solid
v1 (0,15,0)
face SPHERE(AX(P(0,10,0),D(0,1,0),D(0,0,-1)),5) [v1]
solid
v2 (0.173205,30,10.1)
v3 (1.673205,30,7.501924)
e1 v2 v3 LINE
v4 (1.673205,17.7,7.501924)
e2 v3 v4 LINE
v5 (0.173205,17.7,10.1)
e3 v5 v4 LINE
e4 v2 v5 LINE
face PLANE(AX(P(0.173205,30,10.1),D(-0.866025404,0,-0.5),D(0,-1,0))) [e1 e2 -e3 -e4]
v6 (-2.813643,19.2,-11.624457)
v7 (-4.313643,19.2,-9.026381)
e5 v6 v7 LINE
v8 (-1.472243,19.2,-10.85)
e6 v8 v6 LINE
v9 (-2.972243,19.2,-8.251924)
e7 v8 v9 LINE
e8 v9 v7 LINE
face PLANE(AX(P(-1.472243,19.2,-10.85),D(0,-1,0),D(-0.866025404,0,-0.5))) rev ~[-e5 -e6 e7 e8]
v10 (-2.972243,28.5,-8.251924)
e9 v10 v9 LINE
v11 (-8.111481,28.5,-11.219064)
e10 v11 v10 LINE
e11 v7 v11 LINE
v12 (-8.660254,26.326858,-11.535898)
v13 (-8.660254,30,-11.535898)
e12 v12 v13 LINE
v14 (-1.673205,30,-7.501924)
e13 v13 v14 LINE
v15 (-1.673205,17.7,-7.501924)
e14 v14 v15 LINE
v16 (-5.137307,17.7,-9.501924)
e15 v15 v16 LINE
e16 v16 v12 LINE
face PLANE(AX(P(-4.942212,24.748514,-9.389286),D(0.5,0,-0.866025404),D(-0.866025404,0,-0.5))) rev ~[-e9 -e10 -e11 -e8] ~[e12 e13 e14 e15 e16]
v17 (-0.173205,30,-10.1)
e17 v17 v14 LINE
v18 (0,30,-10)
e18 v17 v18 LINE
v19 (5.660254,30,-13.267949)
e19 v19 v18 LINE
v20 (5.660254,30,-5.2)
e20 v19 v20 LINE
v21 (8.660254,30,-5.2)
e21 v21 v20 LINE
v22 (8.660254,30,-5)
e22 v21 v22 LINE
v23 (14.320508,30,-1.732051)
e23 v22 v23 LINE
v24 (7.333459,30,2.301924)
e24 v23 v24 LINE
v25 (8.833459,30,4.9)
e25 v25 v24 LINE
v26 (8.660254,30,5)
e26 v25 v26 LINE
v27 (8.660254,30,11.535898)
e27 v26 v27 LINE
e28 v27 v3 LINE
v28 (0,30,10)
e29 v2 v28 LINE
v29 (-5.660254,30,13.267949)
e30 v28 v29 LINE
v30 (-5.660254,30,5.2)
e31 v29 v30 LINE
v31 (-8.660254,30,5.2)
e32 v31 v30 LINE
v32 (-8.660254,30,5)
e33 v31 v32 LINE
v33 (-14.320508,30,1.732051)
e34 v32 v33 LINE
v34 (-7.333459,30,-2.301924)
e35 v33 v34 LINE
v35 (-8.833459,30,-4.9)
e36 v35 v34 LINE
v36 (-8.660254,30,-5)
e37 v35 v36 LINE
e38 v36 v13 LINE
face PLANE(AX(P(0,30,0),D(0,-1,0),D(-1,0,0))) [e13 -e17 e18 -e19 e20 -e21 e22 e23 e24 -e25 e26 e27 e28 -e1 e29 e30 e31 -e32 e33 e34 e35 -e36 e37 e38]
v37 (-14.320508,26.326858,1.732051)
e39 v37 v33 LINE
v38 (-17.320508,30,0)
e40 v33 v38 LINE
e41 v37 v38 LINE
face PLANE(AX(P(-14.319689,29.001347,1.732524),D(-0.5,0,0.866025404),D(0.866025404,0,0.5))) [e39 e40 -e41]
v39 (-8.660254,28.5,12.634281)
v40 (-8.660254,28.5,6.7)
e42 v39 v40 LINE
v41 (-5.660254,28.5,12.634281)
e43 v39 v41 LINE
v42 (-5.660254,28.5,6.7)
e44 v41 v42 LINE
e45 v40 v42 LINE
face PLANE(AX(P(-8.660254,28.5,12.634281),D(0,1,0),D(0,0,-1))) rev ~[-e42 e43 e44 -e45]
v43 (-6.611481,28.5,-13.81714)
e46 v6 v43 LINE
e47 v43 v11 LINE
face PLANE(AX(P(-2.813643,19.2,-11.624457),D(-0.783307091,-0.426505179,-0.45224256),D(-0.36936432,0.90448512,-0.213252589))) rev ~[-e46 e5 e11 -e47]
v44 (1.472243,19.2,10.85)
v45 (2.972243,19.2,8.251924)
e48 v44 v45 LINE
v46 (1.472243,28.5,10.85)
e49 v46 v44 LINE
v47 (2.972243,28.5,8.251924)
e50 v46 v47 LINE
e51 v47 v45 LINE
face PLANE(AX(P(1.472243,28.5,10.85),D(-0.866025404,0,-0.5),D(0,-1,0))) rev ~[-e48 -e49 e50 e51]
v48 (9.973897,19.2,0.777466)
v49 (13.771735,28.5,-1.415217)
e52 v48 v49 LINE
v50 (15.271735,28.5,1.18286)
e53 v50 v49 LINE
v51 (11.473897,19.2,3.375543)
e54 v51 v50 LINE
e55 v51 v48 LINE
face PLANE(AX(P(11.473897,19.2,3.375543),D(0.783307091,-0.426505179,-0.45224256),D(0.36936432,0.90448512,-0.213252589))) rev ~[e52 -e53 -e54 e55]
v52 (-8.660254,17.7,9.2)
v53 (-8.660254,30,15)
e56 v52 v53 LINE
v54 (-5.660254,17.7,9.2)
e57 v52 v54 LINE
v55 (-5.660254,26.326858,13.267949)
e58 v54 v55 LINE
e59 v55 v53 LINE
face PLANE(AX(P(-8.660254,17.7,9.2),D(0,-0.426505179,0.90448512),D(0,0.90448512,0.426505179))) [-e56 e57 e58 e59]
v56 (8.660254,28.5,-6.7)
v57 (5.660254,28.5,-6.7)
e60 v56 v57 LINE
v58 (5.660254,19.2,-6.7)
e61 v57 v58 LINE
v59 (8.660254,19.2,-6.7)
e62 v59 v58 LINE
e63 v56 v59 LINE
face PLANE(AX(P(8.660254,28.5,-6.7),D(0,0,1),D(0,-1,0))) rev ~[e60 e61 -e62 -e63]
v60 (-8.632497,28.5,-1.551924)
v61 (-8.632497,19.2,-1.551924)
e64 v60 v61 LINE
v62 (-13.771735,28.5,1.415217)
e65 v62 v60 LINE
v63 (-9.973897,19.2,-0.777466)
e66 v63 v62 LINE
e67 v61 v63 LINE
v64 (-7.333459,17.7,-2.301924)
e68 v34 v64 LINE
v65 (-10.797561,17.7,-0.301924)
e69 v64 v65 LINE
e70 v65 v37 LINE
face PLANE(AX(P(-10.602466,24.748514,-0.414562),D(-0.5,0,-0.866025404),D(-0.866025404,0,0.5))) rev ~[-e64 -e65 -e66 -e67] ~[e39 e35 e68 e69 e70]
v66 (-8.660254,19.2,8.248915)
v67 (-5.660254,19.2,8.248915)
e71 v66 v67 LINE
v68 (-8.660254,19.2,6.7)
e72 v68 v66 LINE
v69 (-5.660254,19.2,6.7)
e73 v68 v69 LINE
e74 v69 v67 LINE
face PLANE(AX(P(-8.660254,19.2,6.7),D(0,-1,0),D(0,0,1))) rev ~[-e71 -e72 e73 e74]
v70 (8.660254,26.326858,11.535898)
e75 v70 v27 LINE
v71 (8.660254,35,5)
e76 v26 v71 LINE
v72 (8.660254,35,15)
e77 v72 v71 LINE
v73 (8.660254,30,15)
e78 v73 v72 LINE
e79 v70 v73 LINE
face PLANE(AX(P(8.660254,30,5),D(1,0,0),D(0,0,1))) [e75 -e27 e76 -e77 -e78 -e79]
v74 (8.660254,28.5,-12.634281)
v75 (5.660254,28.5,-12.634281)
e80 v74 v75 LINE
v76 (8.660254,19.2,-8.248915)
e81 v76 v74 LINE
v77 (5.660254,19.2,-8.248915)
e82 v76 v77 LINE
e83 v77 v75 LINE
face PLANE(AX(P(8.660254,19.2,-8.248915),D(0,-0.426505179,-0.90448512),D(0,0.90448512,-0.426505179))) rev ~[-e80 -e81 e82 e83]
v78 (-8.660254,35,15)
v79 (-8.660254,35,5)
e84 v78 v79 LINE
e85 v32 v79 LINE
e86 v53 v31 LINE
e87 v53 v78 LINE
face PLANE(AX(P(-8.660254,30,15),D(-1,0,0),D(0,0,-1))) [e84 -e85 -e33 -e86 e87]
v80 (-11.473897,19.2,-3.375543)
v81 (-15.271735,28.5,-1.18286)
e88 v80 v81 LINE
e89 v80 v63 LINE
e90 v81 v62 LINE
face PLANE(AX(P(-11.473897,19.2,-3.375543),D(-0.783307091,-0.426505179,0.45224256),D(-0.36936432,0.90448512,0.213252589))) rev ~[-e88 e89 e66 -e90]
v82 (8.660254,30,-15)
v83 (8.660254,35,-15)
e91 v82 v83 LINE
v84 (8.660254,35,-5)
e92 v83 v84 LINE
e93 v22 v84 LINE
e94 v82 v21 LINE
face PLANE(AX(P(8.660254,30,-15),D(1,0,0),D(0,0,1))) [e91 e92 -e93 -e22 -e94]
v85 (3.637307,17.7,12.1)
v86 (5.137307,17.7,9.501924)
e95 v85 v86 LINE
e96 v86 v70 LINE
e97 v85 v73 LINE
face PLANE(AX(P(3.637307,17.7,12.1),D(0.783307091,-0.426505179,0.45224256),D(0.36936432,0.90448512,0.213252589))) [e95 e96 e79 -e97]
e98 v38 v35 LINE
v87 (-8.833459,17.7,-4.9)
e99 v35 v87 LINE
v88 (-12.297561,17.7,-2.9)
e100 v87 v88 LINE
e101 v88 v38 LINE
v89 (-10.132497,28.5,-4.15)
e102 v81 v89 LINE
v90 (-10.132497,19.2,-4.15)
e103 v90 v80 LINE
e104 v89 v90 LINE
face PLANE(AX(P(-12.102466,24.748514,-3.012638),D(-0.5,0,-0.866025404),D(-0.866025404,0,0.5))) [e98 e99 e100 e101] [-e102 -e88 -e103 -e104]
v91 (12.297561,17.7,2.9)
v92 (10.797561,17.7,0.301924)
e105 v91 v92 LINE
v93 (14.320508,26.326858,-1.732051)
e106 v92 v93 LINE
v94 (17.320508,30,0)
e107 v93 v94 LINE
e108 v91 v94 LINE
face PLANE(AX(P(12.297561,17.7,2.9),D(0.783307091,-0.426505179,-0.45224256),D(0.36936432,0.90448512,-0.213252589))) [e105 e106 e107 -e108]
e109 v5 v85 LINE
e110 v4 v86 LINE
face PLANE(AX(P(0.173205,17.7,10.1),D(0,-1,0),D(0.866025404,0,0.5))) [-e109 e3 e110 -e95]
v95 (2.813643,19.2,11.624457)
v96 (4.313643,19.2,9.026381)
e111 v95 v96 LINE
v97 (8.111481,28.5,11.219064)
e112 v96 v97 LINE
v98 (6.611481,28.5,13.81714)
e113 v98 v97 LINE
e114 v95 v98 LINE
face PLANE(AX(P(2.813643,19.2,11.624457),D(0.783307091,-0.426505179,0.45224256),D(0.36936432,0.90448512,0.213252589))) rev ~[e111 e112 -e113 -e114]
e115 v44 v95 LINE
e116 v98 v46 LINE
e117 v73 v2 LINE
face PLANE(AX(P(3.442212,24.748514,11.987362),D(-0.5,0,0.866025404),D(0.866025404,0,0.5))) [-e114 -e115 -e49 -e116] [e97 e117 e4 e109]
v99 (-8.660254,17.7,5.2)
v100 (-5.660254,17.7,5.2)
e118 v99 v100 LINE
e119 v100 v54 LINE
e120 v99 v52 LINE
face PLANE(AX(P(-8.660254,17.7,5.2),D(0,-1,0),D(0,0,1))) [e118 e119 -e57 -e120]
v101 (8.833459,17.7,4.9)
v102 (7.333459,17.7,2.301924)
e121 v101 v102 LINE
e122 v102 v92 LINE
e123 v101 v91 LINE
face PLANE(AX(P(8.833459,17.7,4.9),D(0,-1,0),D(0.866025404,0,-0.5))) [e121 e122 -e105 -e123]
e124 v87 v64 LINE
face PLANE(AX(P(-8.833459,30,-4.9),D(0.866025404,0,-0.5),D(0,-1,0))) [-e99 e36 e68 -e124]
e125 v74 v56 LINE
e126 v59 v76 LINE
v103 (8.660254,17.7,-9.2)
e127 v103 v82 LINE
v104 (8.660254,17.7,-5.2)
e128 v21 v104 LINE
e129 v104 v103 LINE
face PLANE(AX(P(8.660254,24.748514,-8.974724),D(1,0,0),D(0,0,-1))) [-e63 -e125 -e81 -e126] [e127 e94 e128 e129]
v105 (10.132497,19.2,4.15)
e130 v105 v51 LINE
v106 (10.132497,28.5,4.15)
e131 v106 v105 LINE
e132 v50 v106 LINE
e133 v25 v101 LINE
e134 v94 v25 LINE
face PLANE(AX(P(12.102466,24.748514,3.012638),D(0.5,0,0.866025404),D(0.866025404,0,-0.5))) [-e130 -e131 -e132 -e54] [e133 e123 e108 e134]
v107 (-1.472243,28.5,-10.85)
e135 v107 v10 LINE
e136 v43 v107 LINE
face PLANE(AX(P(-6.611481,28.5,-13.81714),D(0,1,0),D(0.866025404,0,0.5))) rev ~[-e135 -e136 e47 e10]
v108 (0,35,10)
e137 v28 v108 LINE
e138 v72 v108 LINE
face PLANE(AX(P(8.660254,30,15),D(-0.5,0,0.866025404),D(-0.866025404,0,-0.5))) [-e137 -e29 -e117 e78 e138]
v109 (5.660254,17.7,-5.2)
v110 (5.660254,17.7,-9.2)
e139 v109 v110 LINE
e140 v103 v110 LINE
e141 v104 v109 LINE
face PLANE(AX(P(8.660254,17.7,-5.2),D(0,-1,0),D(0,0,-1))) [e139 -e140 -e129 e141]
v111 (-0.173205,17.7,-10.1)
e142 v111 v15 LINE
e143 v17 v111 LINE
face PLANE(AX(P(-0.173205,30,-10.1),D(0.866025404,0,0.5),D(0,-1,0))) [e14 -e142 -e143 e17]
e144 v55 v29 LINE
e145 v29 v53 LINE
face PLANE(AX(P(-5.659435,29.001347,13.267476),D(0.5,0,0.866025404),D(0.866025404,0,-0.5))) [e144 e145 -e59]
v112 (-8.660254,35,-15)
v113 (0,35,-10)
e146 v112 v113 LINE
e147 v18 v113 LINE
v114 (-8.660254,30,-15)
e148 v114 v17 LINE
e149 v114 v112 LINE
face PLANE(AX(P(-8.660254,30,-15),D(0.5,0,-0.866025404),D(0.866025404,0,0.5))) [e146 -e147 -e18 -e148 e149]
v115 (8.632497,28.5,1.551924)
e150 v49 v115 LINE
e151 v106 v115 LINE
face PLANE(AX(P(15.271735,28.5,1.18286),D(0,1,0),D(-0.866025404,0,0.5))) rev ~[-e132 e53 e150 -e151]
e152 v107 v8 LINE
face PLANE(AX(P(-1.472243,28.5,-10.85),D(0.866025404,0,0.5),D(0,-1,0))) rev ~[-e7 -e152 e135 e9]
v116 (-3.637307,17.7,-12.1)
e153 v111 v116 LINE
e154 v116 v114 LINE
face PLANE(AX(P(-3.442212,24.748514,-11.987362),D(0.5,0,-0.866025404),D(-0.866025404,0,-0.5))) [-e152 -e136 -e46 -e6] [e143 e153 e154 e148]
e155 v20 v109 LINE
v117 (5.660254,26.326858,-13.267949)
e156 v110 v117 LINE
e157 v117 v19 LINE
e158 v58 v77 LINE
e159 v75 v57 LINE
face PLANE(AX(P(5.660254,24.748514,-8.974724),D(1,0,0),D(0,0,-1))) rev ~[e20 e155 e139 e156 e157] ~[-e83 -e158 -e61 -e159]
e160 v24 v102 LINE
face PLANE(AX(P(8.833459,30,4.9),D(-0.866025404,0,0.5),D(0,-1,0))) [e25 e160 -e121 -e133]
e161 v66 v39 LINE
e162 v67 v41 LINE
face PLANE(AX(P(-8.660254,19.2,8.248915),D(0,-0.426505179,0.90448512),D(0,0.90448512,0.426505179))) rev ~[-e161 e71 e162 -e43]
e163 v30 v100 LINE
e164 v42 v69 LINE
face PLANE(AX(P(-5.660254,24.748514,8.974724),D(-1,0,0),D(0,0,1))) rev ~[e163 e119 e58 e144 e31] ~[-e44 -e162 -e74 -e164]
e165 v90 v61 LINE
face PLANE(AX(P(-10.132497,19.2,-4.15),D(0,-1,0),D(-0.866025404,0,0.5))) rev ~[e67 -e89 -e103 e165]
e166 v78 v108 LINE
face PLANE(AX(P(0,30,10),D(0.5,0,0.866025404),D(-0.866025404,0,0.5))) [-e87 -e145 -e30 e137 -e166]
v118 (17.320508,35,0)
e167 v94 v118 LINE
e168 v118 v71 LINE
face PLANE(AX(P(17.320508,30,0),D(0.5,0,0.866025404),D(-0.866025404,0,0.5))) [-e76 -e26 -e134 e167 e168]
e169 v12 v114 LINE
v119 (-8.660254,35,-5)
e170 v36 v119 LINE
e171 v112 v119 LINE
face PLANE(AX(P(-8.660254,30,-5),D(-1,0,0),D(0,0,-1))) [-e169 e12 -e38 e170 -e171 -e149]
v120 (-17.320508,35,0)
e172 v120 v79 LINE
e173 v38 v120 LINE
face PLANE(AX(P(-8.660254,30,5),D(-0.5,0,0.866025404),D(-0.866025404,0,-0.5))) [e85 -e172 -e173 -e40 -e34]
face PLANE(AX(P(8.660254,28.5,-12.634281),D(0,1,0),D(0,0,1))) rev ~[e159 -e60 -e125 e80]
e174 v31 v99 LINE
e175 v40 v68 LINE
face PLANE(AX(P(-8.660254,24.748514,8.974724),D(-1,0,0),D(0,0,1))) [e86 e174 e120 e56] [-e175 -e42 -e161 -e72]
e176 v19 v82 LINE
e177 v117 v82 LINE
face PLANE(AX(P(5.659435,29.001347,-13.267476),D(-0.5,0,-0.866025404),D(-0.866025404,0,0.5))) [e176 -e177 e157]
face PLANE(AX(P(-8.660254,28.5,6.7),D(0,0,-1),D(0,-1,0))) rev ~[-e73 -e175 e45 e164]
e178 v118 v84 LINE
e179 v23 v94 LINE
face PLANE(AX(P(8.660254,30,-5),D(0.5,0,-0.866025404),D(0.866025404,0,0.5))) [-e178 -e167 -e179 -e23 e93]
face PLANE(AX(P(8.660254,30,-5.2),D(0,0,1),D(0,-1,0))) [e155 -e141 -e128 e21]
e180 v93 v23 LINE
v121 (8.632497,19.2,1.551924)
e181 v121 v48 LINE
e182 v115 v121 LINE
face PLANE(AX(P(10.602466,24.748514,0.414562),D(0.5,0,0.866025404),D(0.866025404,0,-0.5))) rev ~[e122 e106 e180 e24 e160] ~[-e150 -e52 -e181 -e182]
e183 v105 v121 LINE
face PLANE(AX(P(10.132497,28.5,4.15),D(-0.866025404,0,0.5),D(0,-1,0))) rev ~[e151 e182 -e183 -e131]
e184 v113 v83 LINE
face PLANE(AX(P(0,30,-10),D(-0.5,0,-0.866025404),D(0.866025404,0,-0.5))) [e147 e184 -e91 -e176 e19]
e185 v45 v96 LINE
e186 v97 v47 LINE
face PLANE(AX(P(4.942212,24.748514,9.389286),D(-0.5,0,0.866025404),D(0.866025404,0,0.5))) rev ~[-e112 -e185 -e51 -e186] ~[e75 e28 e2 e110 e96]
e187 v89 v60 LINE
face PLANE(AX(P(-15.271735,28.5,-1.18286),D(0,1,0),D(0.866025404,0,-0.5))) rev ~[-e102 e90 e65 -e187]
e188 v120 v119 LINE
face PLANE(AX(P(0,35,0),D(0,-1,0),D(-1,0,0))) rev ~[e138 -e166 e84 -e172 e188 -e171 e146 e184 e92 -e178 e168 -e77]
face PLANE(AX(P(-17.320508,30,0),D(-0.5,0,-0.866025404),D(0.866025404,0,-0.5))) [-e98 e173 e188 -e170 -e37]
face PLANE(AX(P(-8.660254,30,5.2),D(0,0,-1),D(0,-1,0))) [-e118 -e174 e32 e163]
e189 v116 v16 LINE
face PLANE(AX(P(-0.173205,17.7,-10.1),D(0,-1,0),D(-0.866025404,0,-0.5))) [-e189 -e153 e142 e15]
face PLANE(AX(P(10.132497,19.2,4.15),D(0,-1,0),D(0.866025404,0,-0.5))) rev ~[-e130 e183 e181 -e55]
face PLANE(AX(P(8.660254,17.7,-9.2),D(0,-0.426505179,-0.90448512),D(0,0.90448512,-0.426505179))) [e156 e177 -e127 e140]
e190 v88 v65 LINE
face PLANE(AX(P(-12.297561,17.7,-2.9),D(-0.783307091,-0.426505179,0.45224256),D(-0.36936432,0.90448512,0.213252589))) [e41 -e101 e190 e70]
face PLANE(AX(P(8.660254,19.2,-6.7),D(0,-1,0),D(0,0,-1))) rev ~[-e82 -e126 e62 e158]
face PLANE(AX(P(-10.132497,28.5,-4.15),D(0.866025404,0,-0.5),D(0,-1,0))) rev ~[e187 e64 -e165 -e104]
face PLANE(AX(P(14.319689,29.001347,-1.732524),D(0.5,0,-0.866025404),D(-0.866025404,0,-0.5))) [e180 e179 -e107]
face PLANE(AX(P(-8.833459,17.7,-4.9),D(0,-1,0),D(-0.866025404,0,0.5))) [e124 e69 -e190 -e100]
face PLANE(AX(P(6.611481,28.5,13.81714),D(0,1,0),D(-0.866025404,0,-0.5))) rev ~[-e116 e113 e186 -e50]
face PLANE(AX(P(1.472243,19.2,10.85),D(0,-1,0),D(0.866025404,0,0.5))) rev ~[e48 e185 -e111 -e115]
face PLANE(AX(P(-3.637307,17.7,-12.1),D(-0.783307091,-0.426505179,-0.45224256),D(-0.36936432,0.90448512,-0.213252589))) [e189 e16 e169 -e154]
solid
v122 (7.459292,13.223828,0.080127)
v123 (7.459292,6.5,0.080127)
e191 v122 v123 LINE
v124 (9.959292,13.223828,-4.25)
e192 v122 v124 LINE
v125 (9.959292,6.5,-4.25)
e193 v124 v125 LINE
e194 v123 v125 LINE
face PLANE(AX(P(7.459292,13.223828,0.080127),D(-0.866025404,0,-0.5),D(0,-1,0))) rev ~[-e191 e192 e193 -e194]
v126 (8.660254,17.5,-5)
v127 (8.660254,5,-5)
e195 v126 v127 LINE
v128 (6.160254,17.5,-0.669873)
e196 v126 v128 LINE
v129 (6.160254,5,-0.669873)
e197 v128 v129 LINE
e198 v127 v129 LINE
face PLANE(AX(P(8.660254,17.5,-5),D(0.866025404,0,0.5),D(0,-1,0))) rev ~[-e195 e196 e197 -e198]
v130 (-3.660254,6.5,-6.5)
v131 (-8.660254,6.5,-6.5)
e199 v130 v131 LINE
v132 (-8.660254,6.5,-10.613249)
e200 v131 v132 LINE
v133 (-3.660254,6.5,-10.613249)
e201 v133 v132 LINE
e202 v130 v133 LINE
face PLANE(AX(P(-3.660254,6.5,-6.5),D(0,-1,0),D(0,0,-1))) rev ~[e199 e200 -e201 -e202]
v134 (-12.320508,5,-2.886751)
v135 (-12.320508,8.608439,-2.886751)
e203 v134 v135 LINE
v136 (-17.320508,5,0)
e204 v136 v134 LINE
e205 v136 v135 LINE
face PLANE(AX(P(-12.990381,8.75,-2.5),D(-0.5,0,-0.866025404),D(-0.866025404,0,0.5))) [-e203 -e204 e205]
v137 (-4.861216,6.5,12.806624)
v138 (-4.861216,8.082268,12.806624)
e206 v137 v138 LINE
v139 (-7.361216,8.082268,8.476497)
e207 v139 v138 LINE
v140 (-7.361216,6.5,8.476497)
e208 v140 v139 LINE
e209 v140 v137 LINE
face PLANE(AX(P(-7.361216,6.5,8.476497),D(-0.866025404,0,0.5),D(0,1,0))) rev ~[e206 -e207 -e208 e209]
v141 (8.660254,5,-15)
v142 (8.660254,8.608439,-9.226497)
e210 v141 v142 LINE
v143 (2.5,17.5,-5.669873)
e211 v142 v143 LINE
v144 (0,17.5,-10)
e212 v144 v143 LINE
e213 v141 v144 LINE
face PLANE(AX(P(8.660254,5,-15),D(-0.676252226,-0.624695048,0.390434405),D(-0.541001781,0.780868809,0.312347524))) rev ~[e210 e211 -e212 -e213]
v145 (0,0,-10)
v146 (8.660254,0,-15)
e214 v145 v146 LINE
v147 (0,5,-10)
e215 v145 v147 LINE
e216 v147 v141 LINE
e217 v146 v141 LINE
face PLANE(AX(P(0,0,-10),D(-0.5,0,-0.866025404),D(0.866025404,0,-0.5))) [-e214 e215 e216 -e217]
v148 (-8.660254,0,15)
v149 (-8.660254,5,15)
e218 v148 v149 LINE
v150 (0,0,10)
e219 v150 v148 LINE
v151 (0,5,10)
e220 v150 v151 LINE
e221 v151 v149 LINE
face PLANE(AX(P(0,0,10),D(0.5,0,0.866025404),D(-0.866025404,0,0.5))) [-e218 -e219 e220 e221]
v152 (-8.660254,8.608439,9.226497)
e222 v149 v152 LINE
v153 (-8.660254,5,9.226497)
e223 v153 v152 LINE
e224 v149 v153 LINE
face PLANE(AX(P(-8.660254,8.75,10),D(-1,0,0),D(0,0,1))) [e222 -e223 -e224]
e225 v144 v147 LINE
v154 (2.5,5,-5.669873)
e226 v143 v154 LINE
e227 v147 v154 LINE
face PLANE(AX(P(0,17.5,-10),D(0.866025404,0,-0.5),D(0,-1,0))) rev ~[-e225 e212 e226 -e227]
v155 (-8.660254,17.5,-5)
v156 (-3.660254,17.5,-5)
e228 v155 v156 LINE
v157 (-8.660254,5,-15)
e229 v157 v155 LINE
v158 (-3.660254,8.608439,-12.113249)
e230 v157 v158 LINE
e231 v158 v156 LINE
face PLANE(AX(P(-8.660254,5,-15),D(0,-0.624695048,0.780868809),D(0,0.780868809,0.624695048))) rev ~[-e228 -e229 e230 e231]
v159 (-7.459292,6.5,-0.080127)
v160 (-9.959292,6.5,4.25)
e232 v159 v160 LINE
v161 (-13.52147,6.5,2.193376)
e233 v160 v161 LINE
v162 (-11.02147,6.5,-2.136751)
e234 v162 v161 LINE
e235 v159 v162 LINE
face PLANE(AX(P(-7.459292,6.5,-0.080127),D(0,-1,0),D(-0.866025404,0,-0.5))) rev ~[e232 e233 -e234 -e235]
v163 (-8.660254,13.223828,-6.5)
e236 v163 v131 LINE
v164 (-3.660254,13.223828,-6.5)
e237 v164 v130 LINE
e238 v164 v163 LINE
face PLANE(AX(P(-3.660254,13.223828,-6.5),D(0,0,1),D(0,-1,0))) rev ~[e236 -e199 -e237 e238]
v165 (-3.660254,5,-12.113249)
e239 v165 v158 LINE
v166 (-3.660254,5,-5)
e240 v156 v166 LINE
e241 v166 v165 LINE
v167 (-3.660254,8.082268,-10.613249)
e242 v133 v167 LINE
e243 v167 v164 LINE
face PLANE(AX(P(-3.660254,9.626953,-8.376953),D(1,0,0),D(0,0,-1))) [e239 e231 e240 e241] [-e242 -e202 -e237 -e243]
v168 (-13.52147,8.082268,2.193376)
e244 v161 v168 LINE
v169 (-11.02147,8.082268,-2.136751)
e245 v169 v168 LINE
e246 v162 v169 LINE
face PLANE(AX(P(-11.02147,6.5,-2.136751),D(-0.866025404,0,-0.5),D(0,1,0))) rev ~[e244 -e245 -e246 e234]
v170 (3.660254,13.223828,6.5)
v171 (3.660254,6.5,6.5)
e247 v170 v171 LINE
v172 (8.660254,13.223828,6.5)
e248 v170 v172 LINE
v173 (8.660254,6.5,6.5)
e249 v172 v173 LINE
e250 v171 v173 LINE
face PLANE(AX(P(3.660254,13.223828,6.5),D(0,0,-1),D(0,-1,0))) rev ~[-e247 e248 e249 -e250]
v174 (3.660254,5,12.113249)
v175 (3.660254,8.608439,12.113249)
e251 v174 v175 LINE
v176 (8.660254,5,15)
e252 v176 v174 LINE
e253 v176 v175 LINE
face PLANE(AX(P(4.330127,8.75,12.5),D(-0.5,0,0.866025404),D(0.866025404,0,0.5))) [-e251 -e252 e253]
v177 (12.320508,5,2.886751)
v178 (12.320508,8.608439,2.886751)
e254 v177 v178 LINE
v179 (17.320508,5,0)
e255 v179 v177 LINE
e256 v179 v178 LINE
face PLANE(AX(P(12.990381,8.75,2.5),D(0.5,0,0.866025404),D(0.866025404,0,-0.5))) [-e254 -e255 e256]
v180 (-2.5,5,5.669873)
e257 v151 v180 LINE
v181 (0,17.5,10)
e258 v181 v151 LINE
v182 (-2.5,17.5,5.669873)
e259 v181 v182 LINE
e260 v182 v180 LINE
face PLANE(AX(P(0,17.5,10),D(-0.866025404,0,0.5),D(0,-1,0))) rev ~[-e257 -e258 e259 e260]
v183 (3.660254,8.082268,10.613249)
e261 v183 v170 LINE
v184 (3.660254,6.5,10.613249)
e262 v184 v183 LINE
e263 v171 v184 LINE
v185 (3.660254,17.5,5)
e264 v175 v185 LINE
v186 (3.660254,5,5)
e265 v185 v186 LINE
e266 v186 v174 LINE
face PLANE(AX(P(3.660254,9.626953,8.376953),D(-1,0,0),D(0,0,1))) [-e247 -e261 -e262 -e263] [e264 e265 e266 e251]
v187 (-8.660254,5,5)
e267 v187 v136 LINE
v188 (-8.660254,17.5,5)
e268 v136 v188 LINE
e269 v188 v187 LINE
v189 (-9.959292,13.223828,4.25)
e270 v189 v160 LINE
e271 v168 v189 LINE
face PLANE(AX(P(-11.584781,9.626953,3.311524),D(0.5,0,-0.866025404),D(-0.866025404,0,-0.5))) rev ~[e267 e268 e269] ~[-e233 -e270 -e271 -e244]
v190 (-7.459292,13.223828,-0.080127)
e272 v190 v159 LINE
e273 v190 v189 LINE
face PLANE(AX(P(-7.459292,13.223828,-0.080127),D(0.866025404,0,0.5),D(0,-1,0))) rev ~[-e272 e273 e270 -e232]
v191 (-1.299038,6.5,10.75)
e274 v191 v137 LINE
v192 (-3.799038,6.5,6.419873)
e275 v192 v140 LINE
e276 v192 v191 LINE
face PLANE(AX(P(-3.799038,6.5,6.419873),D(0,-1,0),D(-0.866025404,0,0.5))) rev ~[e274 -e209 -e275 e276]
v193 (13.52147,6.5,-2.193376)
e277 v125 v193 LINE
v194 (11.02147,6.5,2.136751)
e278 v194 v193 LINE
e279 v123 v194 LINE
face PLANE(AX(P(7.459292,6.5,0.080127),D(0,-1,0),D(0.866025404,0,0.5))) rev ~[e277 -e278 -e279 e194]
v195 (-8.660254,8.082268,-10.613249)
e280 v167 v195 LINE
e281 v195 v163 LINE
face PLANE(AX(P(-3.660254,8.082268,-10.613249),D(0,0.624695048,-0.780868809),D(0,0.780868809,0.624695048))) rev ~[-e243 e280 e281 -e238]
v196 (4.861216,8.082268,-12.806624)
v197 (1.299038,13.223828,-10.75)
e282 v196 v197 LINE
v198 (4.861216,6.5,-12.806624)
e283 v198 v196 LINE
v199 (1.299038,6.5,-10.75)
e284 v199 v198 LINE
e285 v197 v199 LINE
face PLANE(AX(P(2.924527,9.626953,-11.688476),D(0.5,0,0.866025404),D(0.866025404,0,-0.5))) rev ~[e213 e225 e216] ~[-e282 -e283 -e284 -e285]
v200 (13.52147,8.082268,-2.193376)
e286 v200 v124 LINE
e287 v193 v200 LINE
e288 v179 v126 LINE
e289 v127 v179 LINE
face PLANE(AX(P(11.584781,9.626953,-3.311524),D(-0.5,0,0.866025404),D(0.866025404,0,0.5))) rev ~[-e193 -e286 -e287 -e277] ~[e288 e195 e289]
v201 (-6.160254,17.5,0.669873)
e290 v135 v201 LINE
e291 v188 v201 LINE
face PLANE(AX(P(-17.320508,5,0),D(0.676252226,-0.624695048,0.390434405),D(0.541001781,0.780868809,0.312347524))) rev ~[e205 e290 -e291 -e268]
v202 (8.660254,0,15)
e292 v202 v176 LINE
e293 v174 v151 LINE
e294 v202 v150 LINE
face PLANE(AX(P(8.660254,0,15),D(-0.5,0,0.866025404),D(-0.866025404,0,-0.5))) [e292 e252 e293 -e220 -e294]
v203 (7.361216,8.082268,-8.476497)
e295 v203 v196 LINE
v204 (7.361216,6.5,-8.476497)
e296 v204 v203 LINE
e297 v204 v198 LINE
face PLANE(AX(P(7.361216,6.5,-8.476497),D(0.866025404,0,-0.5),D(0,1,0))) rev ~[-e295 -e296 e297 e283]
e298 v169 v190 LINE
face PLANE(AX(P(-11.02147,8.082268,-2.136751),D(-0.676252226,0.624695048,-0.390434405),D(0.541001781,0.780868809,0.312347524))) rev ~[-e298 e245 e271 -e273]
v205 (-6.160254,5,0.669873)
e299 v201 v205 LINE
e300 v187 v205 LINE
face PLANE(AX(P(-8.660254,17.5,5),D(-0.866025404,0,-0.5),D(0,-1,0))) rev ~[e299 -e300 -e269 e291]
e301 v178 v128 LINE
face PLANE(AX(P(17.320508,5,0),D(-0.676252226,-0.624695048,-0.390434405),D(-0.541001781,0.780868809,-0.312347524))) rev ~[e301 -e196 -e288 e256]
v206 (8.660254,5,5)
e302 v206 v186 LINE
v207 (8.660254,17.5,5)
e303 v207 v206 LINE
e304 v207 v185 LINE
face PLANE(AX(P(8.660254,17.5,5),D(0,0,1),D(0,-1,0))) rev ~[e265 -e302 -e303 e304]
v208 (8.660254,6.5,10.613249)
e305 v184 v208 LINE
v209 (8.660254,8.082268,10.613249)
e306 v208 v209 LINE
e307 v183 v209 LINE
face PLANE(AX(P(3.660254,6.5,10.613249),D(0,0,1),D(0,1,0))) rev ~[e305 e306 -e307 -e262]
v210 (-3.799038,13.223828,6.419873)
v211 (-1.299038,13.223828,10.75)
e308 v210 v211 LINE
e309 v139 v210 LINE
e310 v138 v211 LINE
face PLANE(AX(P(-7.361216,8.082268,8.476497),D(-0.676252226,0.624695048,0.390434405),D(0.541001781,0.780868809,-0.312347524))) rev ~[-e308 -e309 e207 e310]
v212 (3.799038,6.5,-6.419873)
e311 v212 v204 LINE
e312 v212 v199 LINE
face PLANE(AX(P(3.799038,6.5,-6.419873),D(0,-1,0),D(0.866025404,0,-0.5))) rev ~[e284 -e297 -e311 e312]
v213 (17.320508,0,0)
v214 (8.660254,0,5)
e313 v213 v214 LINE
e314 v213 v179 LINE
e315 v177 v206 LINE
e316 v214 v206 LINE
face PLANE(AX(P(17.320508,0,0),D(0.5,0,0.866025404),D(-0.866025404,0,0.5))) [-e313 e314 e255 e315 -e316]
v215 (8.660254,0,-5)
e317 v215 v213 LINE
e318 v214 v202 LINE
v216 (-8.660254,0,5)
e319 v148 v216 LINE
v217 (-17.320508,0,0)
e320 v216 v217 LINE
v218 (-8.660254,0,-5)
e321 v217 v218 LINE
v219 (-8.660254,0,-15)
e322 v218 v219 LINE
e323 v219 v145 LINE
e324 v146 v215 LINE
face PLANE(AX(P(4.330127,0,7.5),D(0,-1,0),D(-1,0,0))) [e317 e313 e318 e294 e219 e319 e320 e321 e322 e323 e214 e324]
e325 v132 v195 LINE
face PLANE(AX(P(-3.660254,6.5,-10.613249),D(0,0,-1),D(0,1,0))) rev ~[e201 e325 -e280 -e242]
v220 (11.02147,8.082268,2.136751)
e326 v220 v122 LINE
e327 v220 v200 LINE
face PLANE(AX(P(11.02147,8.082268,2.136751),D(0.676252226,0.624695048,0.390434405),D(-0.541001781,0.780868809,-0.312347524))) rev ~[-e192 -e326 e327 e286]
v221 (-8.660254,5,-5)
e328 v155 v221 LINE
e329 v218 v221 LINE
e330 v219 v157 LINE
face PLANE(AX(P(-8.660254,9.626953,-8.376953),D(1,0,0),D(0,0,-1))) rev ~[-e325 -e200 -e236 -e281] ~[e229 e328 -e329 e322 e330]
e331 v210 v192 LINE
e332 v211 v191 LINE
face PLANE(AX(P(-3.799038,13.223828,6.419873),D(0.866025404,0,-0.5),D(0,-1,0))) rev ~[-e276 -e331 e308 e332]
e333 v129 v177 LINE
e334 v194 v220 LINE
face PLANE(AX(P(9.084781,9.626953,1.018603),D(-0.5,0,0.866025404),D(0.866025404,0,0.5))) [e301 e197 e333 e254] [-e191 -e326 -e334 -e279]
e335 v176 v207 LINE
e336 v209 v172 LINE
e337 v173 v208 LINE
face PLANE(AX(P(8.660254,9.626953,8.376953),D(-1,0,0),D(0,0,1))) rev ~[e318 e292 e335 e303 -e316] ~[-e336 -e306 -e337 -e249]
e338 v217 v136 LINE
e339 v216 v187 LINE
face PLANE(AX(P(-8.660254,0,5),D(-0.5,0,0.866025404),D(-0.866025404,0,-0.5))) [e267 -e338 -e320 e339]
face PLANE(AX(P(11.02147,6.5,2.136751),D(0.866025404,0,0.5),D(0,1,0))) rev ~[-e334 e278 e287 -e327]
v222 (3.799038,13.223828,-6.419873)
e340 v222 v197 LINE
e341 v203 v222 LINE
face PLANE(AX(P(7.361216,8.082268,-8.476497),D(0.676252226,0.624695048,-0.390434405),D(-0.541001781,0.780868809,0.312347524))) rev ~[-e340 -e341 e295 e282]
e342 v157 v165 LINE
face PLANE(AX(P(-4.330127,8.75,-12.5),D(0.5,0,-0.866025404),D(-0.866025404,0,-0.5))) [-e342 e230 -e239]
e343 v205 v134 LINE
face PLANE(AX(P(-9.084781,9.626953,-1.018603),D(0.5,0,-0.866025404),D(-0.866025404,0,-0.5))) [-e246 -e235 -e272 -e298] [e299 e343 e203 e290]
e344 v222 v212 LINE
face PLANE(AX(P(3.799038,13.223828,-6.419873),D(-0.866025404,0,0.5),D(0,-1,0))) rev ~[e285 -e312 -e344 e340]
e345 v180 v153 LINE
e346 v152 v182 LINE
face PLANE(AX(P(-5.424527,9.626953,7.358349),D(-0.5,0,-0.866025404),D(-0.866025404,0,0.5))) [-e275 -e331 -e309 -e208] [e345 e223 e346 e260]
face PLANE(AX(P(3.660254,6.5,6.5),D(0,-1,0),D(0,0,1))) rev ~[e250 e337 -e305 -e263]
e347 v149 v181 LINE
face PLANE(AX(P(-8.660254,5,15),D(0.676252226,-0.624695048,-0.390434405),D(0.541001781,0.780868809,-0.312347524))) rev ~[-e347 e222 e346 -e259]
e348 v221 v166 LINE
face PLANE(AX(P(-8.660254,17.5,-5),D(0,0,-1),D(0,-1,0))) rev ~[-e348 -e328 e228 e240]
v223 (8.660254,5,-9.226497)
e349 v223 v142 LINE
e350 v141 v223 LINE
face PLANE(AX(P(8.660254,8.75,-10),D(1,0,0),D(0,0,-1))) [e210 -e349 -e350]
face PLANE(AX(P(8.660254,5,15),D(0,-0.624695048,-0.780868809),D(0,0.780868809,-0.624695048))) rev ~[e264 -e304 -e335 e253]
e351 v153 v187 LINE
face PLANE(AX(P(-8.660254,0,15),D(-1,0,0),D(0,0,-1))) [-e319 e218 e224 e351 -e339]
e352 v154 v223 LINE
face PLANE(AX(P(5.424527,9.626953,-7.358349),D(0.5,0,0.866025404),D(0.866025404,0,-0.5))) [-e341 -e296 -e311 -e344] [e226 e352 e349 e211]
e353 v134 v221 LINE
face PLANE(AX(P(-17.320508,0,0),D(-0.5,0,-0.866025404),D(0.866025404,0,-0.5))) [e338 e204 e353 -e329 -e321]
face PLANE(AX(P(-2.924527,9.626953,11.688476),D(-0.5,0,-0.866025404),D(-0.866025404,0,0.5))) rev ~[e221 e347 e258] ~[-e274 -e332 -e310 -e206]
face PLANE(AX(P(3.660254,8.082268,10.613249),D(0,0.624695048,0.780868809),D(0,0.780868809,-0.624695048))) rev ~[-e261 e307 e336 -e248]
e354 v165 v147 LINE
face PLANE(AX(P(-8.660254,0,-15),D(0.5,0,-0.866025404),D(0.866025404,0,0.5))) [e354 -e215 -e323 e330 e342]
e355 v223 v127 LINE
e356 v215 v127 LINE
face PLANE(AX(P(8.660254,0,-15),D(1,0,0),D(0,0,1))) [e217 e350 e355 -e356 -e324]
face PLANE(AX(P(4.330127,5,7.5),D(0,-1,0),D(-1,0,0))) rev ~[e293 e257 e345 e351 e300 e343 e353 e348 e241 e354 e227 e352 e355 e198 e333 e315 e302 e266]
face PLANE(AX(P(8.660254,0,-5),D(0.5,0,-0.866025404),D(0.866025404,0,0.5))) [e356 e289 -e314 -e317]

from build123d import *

# Parameters (mm, degrees)
BOSS_EXTRUDE1_DEPTH = 5
BOSS_EXTRUDE2_START = 30
BOSS_EXTRUDE2_DEPTH = 5
BOSS_EXTRUDE3_DEPTH = 5
CIRPATTERN3_COUNT   = 6
SKETCH6_W           = 10
SKETCH6_H           = 17.5
CUT_EXTRUDE2_DEPTH  = 5
CIRPATTERN4_COUNT   = 6
CUT_EXTRUDE3_DEPTH  = 5
CIRPATTERN5_COUNT   = 6
BOSS_EXTRUDE4_DEPTH = 3
CIRPATTERN6_COUNT   = 6
SKETCH9_W           = 6.930095711
SKETCH9_H           = 11.997305441
CUT_EXTRUDE4_DEPTH  = 3
CIRPATTERN7_COUNT   = 6


with BuildPart() as part:
    # Sketch2 → Boss-Extrude1 (new body)
    with BuildSketch(Plane(origin=(0, 0, 0), x_dir=(1, 0, 0), z_dir=(0, 1, 0))):
        Polygon((8.660254038, -15), (0, -10), (0, 0), (8.660254038, -5), align=None)
        Polygon((-8.660254038, -15), (-8.660254038, -5), (0, 0), (0, -10), align=None)
        Polygon((-17.320508076, 0), (-8.660254038, 5), (0, 0), (-8.660254038, -5), align=None)
        Polygon((0, 10), (0, 0), (-8.660254038, 5), (-8.660254038, 15), align=None)
        Polygon((8.660254038, 15), (8.660254038, 5), (0, 0), (0, 10), align=None)
        Polygon((17.320508076, 0), (8.660254038, -5), (0, 0), (8.660254038, 5), align=None)
    extrude(amount=BOSS_EXTRUDE1_DEPTH)

    # Sketch3 → Boss-Extrude3 (add)
    with BuildSketch(Plane.ZY.offset(8.660254038)):
        Polygon((-15, 5), (-5, 17.5), (-5, 5), align=None)
    boss_extrude3 = extrude(amount=-BOSS_EXTRUDE3_DEPTH)

    # CirPattern3: Boss-Extrude3 ×6 about axis
    cirpattern3_axis = Axis((0, 0, 0), (0, 1, 0))
    for i in range(1, CIRPATTERN3_COUNT):
        add(boss_extrude3.rotate(cirpattern3_axis, i * 360 / CIRPATTERN3_COUNT))

    # Sketch6 → Cut-Extrude2 (cut)
    with BuildSketch(Plane(origin=(4.330127019, 0, -7.5), x_dir=(-0.866025404, 0, -0.5), z_dir=(0.5, 0, -0.866025404))):
        with Locations((10, 8.75)):
            Rectangle(SKETCH6_W, SKETCH6_H)
    cut_extrude2 = extrude(amount=CUT_EXTRUDE2_DEPTH, mode=Mode.SUBTRACT)

    # CirPattern4: Cut-Extrude2 ×6 about axis
    cirpattern4_axis = Axis((0, 0, 0), (0, 1, 0))
    for i in range(1, CIRPATTERN4_COUNT):
        add(cut_extrude2.rotate(cirpattern4_axis, i * 360 / CIRPATTERN4_COUNT), mode=Mode.SUBTRACT)

    # Sketch7 → Cut-Extrude3 (cut)
    with BuildSketch(Plane(origin=(-1.830127019, 0, -3.169872981), x_dir=(0.866025404, 0, -0.5), z_dir=(0.5, 0, 0.866025404))):
        Polygon((10.613248654, 6.5), (10.613248654, 8.082267593), (6.5, 13.223828411), (6.5, 6.5), align=None)
    cut_extrude3 = extrude(amount=-CUT_EXTRUDE3_DEPTH, mode=Mode.SUBTRACT)

    # CirPattern5: Cut-Extrude3 ×6 about axis
    cirpattern5_axis = Axis((0, 0, 0), (0, 1, 0))
    for i in range(1, CIRPATTERN5_COUNT):
        add(cut_extrude3.rotate(cirpattern5_axis, i * 360 / CIRPATTERN5_COUNT), mode=Mode.SUBTRACT)


with BuildPart() as body_2:
    # Sketch2_3 → Boss-Extrude2 (new body)
    with BuildSketch(Plane(origin=(0, 0, 0), x_dir=(1, 0, 0), z_dir=(0, 1, 0)).offset(BOSS_EXTRUDE2_START)):
        Polygon((-8.660254038, 5), (-8.660254038, 15), (0, 10), (8.660254038, 15), (8.660254038, 5), (17.320508076, 0), (8.660254038, -5), (8.660254038, -15), (0, -10), (-8.660254038, -15), (-8.660254038, -5), (-17.320508076, 0), align=None)
    extrude(amount=BOSS_EXTRUDE2_DEPTH)

    # Sketch8 → Boss-Extrude4 (add)
    with BuildSketch(Plane(origin=(4.330127019, 0, -7.5), x_dir=(-0.866025404, 0, -0.5), z_dir=(0.5, 0, -0.866025404))):
        Polygon((15, 30), (5.2, 30), (5.2, 17.7), (9.2, 17.7), align=None)
        Polygon((8.248914998, 19.2), (12.634280852, 28.5), (6.7, 28.5), (6.7, 19.2), align=None, mode=Mode.SUBTRACT)
    boss_extrude4 = extrude(amount=-BOSS_EXTRUDE4_DEPTH)

    # CirPattern6: Boss-Extrude4 ×6 about axis
    cirpattern6_axis = Axis((0, 0, 0), (0, 1, 0))
    for i in range(1, CIRPATTERN6_COUNT):
        add(boss_extrude4.rotate(cirpattern6_axis, i * 360 / CIRPATTERN6_COUNT))

    # Sketch9 → Cut-Extrude4 (cut)
    with BuildSketch(Plane.ZY.offset(8.660254038)):
        with Locations((-11.534952145, 29.00134728)):
            Rectangle(SKETCH9_W, SKETCH9_H)
    cut_extrude4 = extrude(amount=CUT_EXTRUDE4_DEPTH, mode=Mode.SUBTRACT)

    # CirPattern7: Cut-Extrude4 ×6 about axis
    cirpattern7_axis = Axis((0, 0, 0), (0, 1, 0))
    for i in range(1, CIRPATTERN7_COUNT):
        add(cut_extrude4.rotate(cirpattern7_axis, i * 360 / CIRPATTERN7_COUNT), mode=Mode.SUBTRACT)


with BuildPart() as body_3:
    # Sketch4 → Revolve11 (revolve)
    with BuildSketch(Plane(origin=(0, 0, 0), x_dir=(0, 0, -1), z_dir=(1, 0, 0))):
        with BuildLine():
            Line((0, 15), (0, 5))
            ThreePointArc((0, 5), (5, 10), (0, 15))
        make_face()
    revolve(axis=Axis((0, 0, 0), (0, 1, 0)))


solid = Compound([part.part, body_2.part, body_3.part])
